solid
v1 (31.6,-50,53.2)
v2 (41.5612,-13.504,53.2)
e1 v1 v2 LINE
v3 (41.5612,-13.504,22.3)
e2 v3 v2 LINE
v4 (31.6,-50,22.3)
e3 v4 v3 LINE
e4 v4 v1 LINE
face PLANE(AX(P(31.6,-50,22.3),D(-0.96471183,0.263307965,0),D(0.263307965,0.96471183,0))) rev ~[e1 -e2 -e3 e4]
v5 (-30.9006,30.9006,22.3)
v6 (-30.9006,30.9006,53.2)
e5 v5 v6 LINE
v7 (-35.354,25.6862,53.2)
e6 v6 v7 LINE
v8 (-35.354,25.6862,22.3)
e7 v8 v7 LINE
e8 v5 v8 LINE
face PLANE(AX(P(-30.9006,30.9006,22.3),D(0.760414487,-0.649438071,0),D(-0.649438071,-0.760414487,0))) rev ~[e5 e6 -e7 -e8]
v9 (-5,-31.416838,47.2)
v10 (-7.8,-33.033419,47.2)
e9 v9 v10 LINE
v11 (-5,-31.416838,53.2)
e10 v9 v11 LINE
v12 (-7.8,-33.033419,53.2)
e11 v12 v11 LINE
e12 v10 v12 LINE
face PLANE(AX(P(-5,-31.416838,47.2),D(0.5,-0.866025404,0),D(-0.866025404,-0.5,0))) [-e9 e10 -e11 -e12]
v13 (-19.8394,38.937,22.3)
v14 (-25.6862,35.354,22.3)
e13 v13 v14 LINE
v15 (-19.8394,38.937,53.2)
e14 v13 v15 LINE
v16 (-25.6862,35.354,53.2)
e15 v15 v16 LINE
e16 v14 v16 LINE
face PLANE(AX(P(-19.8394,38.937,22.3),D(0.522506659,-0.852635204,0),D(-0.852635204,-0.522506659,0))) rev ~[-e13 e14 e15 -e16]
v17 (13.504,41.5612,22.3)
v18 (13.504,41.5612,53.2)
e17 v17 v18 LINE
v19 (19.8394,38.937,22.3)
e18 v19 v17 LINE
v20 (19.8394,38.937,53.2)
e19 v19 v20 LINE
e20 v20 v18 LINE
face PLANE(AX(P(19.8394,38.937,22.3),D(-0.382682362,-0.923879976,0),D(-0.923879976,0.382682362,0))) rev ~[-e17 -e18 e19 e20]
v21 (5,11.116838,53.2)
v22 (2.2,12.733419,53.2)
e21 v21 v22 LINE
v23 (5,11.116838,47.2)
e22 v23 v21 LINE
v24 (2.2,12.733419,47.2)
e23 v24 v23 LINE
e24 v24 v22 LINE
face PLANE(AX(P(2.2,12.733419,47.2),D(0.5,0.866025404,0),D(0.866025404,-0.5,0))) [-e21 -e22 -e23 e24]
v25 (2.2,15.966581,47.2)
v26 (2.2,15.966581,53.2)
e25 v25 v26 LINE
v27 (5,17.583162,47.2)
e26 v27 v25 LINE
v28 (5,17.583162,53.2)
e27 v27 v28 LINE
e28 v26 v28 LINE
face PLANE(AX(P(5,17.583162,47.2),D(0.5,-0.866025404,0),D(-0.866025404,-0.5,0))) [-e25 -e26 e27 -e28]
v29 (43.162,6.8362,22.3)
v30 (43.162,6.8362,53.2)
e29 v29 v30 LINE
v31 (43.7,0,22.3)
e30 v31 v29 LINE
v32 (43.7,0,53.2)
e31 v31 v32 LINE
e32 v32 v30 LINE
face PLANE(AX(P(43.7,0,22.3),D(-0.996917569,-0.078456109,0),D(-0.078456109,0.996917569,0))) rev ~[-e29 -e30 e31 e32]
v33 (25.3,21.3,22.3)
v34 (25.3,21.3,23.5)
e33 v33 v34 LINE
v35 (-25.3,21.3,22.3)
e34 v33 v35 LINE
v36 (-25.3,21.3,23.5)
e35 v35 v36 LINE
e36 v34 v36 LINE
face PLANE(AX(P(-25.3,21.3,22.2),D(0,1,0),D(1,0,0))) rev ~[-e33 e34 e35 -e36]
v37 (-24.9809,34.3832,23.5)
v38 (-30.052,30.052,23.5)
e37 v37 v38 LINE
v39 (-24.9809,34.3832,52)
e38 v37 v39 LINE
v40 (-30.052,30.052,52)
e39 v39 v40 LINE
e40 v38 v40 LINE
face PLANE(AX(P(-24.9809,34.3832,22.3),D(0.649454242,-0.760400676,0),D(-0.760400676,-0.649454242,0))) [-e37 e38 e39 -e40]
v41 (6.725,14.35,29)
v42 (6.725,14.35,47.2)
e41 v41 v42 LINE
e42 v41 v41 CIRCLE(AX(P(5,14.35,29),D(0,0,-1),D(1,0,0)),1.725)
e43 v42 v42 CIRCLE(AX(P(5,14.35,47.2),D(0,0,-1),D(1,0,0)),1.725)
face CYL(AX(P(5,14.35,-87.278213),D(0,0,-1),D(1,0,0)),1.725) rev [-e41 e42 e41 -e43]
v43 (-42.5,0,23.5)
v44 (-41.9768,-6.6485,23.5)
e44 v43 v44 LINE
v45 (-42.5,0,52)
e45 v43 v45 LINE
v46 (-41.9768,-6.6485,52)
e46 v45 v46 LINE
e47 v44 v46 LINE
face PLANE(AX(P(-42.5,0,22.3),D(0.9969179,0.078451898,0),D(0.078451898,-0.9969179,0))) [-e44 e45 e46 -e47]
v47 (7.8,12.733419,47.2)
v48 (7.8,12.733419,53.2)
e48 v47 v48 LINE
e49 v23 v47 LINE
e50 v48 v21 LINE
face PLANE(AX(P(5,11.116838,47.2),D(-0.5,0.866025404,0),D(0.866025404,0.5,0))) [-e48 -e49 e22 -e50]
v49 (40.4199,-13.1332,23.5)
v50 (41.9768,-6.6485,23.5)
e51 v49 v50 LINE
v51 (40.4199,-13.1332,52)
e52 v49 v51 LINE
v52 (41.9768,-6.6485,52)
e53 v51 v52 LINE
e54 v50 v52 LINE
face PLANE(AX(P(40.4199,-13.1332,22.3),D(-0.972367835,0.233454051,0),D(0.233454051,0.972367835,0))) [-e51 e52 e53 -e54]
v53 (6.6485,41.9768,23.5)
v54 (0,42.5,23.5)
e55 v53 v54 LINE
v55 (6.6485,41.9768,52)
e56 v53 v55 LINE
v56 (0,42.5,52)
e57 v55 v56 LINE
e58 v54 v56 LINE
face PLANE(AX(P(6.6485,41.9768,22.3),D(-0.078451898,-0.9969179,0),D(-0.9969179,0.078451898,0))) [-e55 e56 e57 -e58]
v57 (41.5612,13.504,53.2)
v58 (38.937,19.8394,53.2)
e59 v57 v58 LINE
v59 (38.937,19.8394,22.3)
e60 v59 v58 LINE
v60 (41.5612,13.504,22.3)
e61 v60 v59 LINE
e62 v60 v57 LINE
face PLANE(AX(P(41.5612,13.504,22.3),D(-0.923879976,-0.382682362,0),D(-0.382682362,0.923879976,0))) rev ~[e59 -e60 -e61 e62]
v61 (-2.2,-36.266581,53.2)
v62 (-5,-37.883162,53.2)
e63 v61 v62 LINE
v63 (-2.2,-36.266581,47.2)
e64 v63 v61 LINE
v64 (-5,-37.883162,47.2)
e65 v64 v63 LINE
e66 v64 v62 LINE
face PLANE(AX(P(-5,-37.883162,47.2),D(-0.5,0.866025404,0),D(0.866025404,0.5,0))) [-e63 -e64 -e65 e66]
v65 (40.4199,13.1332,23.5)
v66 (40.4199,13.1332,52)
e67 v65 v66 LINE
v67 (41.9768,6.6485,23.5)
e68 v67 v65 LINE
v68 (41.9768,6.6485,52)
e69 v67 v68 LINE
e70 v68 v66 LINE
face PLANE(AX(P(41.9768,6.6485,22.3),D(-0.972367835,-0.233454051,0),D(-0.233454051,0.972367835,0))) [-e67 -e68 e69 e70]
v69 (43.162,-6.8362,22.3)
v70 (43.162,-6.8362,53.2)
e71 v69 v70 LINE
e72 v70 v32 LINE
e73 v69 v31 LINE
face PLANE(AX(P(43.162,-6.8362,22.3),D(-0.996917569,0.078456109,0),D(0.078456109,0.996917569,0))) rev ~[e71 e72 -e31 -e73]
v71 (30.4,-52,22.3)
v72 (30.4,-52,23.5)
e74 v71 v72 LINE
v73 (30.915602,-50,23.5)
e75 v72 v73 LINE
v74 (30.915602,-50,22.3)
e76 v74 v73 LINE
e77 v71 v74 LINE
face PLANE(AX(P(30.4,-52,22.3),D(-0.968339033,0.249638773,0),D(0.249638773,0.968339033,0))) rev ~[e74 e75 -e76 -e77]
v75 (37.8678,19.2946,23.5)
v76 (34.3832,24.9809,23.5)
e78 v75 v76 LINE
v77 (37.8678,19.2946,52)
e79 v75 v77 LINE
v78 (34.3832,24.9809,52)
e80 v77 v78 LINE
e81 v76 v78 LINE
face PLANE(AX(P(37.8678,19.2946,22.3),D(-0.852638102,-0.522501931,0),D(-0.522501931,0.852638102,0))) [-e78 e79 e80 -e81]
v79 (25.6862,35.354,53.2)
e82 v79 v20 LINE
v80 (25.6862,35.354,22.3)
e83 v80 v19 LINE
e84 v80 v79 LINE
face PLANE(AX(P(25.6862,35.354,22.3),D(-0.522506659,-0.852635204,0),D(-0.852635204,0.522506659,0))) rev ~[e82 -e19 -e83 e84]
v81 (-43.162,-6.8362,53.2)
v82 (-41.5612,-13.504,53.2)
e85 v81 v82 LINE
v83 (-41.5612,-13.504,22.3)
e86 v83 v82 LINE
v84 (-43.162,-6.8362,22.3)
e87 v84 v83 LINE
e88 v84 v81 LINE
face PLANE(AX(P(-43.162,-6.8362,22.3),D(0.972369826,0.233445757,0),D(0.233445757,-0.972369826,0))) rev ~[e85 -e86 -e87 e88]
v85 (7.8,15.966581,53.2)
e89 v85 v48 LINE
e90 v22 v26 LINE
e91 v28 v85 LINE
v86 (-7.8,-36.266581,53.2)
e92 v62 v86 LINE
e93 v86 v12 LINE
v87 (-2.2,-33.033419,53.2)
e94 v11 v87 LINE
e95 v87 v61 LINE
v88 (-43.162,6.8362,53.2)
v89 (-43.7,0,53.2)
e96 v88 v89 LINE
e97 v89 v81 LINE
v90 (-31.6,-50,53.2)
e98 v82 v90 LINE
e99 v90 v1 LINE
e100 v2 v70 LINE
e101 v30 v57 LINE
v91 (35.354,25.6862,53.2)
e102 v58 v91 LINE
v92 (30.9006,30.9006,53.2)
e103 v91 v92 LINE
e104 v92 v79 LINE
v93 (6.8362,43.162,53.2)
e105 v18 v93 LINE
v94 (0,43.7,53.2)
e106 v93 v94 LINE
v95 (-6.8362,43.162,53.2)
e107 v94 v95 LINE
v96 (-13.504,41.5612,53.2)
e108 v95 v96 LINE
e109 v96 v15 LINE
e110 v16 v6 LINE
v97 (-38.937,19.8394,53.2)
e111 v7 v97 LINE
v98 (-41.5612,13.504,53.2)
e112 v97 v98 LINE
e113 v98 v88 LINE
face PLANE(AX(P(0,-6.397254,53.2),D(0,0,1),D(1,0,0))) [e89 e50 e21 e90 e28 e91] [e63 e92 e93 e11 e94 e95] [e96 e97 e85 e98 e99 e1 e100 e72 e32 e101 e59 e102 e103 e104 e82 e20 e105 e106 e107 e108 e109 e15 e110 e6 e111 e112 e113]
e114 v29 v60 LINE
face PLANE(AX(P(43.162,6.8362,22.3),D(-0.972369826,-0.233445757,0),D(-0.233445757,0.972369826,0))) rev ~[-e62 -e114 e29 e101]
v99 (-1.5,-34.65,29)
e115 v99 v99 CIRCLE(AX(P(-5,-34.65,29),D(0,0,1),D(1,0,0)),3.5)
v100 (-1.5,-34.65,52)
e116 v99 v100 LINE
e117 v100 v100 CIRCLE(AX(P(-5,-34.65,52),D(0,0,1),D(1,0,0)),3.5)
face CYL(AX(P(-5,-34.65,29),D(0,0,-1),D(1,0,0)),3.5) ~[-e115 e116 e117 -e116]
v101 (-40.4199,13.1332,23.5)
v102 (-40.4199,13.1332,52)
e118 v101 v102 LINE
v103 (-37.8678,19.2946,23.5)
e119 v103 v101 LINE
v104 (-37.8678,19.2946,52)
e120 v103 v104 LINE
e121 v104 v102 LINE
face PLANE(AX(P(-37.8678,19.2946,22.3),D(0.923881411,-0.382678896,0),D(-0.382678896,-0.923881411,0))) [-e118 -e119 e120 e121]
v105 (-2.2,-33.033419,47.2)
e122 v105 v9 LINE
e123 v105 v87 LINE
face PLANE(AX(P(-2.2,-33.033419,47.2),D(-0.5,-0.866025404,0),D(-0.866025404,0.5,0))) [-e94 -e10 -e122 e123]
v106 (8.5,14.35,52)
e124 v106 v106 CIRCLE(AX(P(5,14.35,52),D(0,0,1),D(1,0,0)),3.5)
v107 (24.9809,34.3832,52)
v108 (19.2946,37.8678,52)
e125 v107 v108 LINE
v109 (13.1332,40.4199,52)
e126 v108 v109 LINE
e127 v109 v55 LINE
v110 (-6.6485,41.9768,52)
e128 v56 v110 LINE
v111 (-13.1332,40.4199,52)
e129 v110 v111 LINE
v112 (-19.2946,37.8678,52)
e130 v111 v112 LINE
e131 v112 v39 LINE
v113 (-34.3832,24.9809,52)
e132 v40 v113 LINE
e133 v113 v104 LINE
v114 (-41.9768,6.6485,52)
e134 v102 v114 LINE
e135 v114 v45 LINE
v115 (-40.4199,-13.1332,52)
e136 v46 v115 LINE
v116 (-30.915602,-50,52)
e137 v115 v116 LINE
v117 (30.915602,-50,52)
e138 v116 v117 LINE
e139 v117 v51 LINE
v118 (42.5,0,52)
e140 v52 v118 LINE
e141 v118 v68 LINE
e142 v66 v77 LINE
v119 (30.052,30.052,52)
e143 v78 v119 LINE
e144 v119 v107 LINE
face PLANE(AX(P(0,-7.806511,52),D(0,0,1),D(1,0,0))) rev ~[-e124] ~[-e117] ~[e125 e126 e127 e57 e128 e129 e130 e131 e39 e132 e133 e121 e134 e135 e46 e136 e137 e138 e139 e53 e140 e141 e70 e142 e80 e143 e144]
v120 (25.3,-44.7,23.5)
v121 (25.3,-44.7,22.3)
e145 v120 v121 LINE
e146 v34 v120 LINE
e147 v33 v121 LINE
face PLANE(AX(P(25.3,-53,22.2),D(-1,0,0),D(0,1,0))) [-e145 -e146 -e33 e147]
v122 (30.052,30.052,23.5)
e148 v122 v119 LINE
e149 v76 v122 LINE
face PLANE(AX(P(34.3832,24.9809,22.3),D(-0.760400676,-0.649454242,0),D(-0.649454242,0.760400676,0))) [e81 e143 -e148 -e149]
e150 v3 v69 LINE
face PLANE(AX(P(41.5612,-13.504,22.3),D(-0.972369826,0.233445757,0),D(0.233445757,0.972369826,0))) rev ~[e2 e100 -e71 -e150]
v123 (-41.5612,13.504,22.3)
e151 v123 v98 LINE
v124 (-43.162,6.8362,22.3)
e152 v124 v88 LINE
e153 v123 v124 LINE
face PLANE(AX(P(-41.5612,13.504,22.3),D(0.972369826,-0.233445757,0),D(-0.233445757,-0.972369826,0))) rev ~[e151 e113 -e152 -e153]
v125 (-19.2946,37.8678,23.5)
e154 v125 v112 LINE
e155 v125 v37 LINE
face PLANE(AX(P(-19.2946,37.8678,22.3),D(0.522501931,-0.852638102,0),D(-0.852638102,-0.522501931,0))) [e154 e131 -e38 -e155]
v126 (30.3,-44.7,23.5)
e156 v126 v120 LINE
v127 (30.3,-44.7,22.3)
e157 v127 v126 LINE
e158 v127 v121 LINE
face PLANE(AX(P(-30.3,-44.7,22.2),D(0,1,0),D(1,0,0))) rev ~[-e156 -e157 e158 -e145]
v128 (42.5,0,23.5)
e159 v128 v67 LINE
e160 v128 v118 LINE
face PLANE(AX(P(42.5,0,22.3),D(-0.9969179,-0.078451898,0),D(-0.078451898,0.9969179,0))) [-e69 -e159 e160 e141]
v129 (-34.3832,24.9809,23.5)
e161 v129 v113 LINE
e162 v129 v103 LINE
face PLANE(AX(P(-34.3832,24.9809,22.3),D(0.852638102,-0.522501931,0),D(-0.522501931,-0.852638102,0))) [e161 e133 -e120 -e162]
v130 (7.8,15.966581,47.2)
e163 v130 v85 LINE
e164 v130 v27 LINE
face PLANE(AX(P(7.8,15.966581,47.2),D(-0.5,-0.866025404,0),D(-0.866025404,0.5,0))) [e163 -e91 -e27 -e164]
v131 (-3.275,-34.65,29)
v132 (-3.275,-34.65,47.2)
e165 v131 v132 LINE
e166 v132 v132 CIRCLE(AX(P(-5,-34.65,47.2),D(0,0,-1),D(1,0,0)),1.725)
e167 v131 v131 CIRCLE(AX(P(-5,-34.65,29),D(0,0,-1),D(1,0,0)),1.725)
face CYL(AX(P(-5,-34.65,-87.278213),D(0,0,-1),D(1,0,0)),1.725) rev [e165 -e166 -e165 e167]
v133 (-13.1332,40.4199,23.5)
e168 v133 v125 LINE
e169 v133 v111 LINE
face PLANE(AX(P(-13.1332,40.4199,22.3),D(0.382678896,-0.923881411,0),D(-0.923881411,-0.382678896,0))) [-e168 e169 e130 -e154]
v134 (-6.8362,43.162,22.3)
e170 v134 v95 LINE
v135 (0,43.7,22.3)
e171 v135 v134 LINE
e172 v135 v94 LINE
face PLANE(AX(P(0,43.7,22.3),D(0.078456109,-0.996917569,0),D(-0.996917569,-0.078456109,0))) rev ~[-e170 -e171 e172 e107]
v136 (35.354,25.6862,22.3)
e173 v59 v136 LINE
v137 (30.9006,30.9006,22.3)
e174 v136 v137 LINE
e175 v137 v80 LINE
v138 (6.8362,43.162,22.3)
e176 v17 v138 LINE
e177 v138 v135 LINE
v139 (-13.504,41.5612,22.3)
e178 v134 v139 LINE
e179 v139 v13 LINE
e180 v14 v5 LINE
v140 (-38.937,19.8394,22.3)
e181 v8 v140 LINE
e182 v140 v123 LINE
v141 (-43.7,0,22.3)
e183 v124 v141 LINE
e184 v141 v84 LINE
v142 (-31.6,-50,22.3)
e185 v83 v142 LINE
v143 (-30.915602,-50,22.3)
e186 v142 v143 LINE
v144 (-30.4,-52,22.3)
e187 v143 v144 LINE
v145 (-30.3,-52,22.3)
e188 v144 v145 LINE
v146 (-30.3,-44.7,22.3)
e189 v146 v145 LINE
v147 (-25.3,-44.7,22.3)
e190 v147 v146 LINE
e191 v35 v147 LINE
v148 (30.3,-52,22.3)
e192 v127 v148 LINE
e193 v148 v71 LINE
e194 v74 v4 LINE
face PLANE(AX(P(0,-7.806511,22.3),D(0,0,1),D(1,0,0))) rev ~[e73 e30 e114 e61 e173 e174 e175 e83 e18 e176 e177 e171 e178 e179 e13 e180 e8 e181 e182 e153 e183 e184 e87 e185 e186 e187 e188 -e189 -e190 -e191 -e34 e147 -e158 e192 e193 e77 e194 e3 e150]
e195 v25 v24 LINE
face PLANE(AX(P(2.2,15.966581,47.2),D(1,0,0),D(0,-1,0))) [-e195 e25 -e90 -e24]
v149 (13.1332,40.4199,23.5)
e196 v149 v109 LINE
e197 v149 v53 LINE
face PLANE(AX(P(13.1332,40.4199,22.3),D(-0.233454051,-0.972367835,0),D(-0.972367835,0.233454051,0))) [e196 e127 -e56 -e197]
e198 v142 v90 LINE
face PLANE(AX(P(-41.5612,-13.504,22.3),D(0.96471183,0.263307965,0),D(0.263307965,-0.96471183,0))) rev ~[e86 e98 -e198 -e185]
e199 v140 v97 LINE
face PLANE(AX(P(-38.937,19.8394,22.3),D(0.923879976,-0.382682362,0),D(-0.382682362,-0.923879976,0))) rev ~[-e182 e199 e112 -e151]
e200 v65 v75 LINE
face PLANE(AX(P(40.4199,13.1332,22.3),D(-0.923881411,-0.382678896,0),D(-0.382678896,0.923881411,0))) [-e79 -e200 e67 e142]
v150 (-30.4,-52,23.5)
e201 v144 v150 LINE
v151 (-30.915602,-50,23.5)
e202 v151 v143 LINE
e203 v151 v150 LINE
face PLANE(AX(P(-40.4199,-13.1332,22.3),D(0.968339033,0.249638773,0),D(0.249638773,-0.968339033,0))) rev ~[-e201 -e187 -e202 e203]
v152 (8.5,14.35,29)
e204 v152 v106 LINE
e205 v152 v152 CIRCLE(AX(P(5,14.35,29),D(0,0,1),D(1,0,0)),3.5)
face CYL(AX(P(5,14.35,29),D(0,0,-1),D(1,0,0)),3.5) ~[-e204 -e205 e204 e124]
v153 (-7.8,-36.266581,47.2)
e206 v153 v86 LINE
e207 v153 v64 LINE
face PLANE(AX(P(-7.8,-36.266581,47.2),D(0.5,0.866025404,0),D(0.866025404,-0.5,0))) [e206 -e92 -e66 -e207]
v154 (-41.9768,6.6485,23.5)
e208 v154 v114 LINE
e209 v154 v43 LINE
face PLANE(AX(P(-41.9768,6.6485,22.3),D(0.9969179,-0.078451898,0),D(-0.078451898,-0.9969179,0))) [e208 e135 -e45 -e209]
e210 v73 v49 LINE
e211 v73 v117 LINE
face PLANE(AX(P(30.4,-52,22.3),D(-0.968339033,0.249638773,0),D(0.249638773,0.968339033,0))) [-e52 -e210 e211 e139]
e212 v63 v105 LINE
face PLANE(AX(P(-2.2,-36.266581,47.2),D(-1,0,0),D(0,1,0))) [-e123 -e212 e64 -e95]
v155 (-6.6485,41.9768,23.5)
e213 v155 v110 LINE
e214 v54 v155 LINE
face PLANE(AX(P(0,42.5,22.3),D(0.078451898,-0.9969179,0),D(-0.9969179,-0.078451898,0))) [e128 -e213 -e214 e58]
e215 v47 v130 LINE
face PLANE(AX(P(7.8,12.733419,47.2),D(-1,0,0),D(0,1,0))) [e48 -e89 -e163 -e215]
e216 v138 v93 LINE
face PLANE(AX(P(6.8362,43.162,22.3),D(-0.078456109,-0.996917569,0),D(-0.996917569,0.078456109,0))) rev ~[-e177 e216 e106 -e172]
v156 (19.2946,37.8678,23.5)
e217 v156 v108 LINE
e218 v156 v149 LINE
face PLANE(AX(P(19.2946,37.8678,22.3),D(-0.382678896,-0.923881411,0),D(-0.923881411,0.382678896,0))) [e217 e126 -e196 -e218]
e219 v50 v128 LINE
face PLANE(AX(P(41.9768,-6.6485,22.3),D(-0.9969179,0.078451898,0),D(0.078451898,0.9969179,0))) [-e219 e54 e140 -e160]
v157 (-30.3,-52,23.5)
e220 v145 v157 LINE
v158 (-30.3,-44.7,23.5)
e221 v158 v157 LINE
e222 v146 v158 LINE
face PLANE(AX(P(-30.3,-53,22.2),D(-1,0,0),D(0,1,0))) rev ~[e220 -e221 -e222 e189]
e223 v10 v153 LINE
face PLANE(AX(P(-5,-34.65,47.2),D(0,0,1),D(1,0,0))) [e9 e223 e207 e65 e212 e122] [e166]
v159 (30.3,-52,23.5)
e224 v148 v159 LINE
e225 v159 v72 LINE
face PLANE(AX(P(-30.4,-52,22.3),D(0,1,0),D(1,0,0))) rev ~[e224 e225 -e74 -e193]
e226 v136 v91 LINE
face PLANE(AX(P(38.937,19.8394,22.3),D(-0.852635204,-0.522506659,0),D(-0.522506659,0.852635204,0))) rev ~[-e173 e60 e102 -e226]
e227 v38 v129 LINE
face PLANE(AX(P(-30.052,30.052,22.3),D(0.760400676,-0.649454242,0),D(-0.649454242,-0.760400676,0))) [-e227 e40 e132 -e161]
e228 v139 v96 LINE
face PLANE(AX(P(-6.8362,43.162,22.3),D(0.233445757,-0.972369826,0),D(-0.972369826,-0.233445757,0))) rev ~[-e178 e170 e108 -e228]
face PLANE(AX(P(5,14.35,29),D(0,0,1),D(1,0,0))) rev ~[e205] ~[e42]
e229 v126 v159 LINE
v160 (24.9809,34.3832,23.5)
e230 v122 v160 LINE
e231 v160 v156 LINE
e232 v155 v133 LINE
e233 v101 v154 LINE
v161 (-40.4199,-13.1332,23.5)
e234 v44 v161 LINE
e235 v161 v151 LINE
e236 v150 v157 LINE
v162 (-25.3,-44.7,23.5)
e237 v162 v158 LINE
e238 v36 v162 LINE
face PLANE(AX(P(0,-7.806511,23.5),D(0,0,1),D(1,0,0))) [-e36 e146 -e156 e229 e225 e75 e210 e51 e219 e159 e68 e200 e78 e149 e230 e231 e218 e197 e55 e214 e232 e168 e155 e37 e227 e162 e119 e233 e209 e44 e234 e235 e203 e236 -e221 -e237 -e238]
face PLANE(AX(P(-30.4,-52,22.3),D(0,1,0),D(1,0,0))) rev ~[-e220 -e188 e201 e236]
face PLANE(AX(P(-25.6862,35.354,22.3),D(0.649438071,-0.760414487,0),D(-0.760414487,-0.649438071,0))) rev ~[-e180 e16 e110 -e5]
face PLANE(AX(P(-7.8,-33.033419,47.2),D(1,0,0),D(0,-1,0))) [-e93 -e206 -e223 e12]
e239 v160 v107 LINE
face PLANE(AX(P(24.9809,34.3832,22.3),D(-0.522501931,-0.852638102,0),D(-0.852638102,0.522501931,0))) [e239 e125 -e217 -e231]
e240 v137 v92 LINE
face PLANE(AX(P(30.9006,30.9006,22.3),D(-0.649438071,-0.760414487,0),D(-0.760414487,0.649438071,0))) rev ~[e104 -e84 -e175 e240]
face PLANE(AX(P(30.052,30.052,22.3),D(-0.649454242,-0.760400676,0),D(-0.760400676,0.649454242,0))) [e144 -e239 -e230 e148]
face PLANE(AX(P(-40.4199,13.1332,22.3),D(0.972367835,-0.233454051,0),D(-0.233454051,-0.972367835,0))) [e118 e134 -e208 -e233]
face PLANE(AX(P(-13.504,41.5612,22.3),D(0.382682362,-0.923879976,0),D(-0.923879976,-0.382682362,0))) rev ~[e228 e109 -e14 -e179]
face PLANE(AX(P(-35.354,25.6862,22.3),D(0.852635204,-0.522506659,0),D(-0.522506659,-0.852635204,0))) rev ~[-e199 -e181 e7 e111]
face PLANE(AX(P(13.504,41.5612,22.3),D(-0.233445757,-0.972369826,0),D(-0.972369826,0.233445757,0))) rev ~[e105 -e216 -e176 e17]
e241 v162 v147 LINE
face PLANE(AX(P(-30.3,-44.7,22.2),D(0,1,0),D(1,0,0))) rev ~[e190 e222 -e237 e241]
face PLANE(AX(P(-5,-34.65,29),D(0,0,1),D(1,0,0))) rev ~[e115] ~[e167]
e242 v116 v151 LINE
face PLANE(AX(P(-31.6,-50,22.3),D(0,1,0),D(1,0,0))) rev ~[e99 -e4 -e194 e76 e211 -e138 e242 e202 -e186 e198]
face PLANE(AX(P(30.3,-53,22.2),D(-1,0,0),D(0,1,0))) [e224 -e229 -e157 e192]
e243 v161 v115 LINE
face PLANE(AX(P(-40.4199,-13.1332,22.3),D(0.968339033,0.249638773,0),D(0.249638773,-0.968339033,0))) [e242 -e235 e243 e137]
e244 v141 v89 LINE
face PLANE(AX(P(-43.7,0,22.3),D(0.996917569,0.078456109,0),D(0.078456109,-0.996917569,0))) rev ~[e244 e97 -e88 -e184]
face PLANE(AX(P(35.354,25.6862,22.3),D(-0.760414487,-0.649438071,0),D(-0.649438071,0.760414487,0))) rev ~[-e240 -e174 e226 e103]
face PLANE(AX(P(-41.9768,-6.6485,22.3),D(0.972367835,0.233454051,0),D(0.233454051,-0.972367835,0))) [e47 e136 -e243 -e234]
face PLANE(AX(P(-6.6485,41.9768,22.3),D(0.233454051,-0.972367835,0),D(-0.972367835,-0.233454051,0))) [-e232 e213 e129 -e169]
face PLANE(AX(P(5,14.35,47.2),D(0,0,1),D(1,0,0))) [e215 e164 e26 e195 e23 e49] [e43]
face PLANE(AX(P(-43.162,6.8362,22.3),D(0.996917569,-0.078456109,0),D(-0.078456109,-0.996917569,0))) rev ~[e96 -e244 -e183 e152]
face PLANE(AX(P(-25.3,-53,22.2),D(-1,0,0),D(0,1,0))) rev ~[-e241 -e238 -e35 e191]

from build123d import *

# Parameters (mm, degrees)
BOSS_EXTRUDE1_START     = 22.3
BOSS_EXTRUDE1_DEPTH     = 30.9
CUT_EXTRUDE1_START      = 22.3
CUT_EXTRUDE1_DEPTH      = 29.7
BOSS_EXTRUDE2_START     = 22.3
BOSS_EXTRUDE2_DEPTH     = 1.2
CUT_EXTRUDE2_START      = 22.2
SKETCH4_W               = 50.6
SKETCH4_H               = 74.3
CUT_EXTRUDE2_DEPTH      = 1.4
CUT_EXTRUDE3_START      = 22.2
SKETCH5_W               = 60.6
SKETCH5_H               = 8.3
CUT_EXTRUDE3_DEPTH      = 1.4
BOSS_EXTRUDE3_START     = 29
SKETCH6_R               = 3.5
BOSS_EXTRUDE3_DEPTH     = 23
CUT_EXTRUDE4_DEPTH      = 87.278212777
CUT_EXTRUDE4_DEPTH_BACK = 87.278212777
SKETCH7_R               = 1.725
CUT_EXTRUDE5_START      = 47.2
CUT_EXTRUDE5_DEPTH      = 6.1


with BuildPart() as part:
    # Sketch1 → Boss-Extrude1 (new body)
    with BuildSketch(Plane.XY.offset(BOSS_EXTRUDE1_START)):
        Polygon((-43.7, 0), (-43.162, -6.8362), (-41.5612, -13.504), (-31.6, -50), (31.6, -50), (41.5612, -13.504), (43.162, -6.8362), (43.7, 0), (43.162, 6.8362), (41.5612, 13.504), (38.937, 19.8394), (35.354, 25.6862), (30.9006, 30.9006), (25.6862, 35.354), (19.8394, 38.937), (13.504, 41.5612), (6.8362, 43.162), (0, 43.7), (-6.8362, 43.162), (-13.504, 41.5612), (-19.8394, 38.937), (-25.6862, 35.354), (-30.9006, 30.9006), (-35.354, 25.6862), (-38.937, 19.8394), (-41.5612, 13.504), (-43.162, 6.8362), align=None)
    extrude(amount=BOSS_EXTRUDE1_DEPTH)

    # Sketch2 → Cut-Extrude1 (cut)
    with BuildSketch(Plane.XY.offset(CUT_EXTRUDE1_START)):
        Polygon((-42.5, 0), (-41.9768, -6.6485), (-40.4199, -13.1332), (-30.4, -52), (30.4, -52), (40.4199, -13.1332), (41.9768, -6.6485), (42.5, 0), (41.9768, 6.6485), (40.4199, 13.1332), (37.8678, 19.2946), (34.3832, 24.9809), (30.052, 30.052), (24.9809, 34.3832), (19.2946, 37.8678), (13.1332, 40.4199), (6.6485, 41.9768), (0, 42.5), (-6.6485, 41.9768), (-13.1332, 40.4199), (-19.2946, 37.8678), (-24.9809, 34.3832), (-30.052, 30.052), (-34.3832, 24.9809), (-37.8678, 19.2946), (-40.4199, 13.1332), (-41.9768, 6.6485), align=None)
    extrude(amount=CUT_EXTRUDE1_DEPTH, mode=Mode.SUBTRACT)

    # Sketch3 → Boss-Extrude2 (add)
    with BuildSketch(Plane.XY.offset(BOSS_EXTRUDE2_START)):
        Polygon((-42.5, 0), (-41.9768, -6.6485), (-40.4199, -13.1332), (-30.4, -52), (30.4, -52), (40.4199, -13.1332), (41.9768, -6.6485), (42.5, 0), (41.9768, 6.6485), (40.4199, 13.1332), (37.8678, 19.2946), (34.3832, 24.9809), (30.052, 30.052), (24.9809, 34.3832), (19.2946, 37.8678), (13.1332, 40.4199), (6.6485, 41.9768), (0, 42.5), (-6.6485, 41.9768), (-13.1332, 40.4199), (-19.2946, 37.8678), (-24.9809, 34.3832), (-30.052, 30.052), (-34.3832, 24.9809), (-37.8678, 19.2946), (-40.4199, 13.1332), (-41.9768, 6.6485), align=None)
    extrude(amount=BOSS_EXTRUDE2_DEPTH)

    # Sketch4 → Cut-Extrude2 (cut)
    with BuildSketch(Plane.XY.offset(CUT_EXTRUDE2_START)):
        with Locations((0, -15.85)):
            Rectangle(SKETCH4_W, SKETCH4_H)
    extrude(amount=CUT_EXTRUDE2_DEPTH, mode=Mode.SUBTRACT)

    # Sketch5 → Cut-Extrude3 (cut)
    with BuildSketch(Plane.XY.offset(CUT_EXTRUDE3_START)):
        with Locations((0, -48.85)):
            Rectangle(SKETCH5_W, SKETCH5_H)
    extrude(amount=CUT_EXTRUDE3_DEPTH, mode=Mode.SUBTRACT)

    # Sketch6 → Boss-Extrude3 (add)
    with BuildSketch(Plane.XY.offset(BOSS_EXTRUDE3_START)):
        with Locations((5, 14.35)):
            Circle(SKETCH6_R)
        with Locations((-5, -34.65)):
            Circle(SKETCH6_R)
    extrude(amount=BOSS_EXTRUDE3_DEPTH)

    # Sketch7 → Cut-Extrude4 (cut, two sides: drawn at the far end of the back side and taken through both)
    with BuildSketch(Plane.XY.offset(-CUT_EXTRUDE4_DEPTH_BACK)):
        with Locations((5, 14.35)):
            Circle(SKETCH7_R)
        with Locations((-5, -34.65)):
            Circle(SKETCH7_R)
    extrude(amount=CUT_EXTRUDE4_DEPTH + CUT_EXTRUDE4_DEPTH_BACK, mode=Mode.SUBTRACT)

    # Sketch8 → Cut-Extrude5 (cut)
    with BuildSketch(Plane.XY.offset(CUT_EXTRUDE5_START)):
        Polygon((7.8, 15.966580754), (5, 17.583161507), (2.2, 15.966580754), (2.2, 12.733419246), (5, 11.116838493), (7.8, 12.733419246), align=None)
        Polygon((-2.2, -33.033419246), (-5, -31.416838493), (-7.8, -33.033419246), (-7.8, -36.266580754), (-5, -37.883161507), (-2.2, -36.266580754), align=None)
    extrude(amount=CUT_EXTRUDE5_DEPTH, mode=Mode.SUBTRACT)


solid = part.part
